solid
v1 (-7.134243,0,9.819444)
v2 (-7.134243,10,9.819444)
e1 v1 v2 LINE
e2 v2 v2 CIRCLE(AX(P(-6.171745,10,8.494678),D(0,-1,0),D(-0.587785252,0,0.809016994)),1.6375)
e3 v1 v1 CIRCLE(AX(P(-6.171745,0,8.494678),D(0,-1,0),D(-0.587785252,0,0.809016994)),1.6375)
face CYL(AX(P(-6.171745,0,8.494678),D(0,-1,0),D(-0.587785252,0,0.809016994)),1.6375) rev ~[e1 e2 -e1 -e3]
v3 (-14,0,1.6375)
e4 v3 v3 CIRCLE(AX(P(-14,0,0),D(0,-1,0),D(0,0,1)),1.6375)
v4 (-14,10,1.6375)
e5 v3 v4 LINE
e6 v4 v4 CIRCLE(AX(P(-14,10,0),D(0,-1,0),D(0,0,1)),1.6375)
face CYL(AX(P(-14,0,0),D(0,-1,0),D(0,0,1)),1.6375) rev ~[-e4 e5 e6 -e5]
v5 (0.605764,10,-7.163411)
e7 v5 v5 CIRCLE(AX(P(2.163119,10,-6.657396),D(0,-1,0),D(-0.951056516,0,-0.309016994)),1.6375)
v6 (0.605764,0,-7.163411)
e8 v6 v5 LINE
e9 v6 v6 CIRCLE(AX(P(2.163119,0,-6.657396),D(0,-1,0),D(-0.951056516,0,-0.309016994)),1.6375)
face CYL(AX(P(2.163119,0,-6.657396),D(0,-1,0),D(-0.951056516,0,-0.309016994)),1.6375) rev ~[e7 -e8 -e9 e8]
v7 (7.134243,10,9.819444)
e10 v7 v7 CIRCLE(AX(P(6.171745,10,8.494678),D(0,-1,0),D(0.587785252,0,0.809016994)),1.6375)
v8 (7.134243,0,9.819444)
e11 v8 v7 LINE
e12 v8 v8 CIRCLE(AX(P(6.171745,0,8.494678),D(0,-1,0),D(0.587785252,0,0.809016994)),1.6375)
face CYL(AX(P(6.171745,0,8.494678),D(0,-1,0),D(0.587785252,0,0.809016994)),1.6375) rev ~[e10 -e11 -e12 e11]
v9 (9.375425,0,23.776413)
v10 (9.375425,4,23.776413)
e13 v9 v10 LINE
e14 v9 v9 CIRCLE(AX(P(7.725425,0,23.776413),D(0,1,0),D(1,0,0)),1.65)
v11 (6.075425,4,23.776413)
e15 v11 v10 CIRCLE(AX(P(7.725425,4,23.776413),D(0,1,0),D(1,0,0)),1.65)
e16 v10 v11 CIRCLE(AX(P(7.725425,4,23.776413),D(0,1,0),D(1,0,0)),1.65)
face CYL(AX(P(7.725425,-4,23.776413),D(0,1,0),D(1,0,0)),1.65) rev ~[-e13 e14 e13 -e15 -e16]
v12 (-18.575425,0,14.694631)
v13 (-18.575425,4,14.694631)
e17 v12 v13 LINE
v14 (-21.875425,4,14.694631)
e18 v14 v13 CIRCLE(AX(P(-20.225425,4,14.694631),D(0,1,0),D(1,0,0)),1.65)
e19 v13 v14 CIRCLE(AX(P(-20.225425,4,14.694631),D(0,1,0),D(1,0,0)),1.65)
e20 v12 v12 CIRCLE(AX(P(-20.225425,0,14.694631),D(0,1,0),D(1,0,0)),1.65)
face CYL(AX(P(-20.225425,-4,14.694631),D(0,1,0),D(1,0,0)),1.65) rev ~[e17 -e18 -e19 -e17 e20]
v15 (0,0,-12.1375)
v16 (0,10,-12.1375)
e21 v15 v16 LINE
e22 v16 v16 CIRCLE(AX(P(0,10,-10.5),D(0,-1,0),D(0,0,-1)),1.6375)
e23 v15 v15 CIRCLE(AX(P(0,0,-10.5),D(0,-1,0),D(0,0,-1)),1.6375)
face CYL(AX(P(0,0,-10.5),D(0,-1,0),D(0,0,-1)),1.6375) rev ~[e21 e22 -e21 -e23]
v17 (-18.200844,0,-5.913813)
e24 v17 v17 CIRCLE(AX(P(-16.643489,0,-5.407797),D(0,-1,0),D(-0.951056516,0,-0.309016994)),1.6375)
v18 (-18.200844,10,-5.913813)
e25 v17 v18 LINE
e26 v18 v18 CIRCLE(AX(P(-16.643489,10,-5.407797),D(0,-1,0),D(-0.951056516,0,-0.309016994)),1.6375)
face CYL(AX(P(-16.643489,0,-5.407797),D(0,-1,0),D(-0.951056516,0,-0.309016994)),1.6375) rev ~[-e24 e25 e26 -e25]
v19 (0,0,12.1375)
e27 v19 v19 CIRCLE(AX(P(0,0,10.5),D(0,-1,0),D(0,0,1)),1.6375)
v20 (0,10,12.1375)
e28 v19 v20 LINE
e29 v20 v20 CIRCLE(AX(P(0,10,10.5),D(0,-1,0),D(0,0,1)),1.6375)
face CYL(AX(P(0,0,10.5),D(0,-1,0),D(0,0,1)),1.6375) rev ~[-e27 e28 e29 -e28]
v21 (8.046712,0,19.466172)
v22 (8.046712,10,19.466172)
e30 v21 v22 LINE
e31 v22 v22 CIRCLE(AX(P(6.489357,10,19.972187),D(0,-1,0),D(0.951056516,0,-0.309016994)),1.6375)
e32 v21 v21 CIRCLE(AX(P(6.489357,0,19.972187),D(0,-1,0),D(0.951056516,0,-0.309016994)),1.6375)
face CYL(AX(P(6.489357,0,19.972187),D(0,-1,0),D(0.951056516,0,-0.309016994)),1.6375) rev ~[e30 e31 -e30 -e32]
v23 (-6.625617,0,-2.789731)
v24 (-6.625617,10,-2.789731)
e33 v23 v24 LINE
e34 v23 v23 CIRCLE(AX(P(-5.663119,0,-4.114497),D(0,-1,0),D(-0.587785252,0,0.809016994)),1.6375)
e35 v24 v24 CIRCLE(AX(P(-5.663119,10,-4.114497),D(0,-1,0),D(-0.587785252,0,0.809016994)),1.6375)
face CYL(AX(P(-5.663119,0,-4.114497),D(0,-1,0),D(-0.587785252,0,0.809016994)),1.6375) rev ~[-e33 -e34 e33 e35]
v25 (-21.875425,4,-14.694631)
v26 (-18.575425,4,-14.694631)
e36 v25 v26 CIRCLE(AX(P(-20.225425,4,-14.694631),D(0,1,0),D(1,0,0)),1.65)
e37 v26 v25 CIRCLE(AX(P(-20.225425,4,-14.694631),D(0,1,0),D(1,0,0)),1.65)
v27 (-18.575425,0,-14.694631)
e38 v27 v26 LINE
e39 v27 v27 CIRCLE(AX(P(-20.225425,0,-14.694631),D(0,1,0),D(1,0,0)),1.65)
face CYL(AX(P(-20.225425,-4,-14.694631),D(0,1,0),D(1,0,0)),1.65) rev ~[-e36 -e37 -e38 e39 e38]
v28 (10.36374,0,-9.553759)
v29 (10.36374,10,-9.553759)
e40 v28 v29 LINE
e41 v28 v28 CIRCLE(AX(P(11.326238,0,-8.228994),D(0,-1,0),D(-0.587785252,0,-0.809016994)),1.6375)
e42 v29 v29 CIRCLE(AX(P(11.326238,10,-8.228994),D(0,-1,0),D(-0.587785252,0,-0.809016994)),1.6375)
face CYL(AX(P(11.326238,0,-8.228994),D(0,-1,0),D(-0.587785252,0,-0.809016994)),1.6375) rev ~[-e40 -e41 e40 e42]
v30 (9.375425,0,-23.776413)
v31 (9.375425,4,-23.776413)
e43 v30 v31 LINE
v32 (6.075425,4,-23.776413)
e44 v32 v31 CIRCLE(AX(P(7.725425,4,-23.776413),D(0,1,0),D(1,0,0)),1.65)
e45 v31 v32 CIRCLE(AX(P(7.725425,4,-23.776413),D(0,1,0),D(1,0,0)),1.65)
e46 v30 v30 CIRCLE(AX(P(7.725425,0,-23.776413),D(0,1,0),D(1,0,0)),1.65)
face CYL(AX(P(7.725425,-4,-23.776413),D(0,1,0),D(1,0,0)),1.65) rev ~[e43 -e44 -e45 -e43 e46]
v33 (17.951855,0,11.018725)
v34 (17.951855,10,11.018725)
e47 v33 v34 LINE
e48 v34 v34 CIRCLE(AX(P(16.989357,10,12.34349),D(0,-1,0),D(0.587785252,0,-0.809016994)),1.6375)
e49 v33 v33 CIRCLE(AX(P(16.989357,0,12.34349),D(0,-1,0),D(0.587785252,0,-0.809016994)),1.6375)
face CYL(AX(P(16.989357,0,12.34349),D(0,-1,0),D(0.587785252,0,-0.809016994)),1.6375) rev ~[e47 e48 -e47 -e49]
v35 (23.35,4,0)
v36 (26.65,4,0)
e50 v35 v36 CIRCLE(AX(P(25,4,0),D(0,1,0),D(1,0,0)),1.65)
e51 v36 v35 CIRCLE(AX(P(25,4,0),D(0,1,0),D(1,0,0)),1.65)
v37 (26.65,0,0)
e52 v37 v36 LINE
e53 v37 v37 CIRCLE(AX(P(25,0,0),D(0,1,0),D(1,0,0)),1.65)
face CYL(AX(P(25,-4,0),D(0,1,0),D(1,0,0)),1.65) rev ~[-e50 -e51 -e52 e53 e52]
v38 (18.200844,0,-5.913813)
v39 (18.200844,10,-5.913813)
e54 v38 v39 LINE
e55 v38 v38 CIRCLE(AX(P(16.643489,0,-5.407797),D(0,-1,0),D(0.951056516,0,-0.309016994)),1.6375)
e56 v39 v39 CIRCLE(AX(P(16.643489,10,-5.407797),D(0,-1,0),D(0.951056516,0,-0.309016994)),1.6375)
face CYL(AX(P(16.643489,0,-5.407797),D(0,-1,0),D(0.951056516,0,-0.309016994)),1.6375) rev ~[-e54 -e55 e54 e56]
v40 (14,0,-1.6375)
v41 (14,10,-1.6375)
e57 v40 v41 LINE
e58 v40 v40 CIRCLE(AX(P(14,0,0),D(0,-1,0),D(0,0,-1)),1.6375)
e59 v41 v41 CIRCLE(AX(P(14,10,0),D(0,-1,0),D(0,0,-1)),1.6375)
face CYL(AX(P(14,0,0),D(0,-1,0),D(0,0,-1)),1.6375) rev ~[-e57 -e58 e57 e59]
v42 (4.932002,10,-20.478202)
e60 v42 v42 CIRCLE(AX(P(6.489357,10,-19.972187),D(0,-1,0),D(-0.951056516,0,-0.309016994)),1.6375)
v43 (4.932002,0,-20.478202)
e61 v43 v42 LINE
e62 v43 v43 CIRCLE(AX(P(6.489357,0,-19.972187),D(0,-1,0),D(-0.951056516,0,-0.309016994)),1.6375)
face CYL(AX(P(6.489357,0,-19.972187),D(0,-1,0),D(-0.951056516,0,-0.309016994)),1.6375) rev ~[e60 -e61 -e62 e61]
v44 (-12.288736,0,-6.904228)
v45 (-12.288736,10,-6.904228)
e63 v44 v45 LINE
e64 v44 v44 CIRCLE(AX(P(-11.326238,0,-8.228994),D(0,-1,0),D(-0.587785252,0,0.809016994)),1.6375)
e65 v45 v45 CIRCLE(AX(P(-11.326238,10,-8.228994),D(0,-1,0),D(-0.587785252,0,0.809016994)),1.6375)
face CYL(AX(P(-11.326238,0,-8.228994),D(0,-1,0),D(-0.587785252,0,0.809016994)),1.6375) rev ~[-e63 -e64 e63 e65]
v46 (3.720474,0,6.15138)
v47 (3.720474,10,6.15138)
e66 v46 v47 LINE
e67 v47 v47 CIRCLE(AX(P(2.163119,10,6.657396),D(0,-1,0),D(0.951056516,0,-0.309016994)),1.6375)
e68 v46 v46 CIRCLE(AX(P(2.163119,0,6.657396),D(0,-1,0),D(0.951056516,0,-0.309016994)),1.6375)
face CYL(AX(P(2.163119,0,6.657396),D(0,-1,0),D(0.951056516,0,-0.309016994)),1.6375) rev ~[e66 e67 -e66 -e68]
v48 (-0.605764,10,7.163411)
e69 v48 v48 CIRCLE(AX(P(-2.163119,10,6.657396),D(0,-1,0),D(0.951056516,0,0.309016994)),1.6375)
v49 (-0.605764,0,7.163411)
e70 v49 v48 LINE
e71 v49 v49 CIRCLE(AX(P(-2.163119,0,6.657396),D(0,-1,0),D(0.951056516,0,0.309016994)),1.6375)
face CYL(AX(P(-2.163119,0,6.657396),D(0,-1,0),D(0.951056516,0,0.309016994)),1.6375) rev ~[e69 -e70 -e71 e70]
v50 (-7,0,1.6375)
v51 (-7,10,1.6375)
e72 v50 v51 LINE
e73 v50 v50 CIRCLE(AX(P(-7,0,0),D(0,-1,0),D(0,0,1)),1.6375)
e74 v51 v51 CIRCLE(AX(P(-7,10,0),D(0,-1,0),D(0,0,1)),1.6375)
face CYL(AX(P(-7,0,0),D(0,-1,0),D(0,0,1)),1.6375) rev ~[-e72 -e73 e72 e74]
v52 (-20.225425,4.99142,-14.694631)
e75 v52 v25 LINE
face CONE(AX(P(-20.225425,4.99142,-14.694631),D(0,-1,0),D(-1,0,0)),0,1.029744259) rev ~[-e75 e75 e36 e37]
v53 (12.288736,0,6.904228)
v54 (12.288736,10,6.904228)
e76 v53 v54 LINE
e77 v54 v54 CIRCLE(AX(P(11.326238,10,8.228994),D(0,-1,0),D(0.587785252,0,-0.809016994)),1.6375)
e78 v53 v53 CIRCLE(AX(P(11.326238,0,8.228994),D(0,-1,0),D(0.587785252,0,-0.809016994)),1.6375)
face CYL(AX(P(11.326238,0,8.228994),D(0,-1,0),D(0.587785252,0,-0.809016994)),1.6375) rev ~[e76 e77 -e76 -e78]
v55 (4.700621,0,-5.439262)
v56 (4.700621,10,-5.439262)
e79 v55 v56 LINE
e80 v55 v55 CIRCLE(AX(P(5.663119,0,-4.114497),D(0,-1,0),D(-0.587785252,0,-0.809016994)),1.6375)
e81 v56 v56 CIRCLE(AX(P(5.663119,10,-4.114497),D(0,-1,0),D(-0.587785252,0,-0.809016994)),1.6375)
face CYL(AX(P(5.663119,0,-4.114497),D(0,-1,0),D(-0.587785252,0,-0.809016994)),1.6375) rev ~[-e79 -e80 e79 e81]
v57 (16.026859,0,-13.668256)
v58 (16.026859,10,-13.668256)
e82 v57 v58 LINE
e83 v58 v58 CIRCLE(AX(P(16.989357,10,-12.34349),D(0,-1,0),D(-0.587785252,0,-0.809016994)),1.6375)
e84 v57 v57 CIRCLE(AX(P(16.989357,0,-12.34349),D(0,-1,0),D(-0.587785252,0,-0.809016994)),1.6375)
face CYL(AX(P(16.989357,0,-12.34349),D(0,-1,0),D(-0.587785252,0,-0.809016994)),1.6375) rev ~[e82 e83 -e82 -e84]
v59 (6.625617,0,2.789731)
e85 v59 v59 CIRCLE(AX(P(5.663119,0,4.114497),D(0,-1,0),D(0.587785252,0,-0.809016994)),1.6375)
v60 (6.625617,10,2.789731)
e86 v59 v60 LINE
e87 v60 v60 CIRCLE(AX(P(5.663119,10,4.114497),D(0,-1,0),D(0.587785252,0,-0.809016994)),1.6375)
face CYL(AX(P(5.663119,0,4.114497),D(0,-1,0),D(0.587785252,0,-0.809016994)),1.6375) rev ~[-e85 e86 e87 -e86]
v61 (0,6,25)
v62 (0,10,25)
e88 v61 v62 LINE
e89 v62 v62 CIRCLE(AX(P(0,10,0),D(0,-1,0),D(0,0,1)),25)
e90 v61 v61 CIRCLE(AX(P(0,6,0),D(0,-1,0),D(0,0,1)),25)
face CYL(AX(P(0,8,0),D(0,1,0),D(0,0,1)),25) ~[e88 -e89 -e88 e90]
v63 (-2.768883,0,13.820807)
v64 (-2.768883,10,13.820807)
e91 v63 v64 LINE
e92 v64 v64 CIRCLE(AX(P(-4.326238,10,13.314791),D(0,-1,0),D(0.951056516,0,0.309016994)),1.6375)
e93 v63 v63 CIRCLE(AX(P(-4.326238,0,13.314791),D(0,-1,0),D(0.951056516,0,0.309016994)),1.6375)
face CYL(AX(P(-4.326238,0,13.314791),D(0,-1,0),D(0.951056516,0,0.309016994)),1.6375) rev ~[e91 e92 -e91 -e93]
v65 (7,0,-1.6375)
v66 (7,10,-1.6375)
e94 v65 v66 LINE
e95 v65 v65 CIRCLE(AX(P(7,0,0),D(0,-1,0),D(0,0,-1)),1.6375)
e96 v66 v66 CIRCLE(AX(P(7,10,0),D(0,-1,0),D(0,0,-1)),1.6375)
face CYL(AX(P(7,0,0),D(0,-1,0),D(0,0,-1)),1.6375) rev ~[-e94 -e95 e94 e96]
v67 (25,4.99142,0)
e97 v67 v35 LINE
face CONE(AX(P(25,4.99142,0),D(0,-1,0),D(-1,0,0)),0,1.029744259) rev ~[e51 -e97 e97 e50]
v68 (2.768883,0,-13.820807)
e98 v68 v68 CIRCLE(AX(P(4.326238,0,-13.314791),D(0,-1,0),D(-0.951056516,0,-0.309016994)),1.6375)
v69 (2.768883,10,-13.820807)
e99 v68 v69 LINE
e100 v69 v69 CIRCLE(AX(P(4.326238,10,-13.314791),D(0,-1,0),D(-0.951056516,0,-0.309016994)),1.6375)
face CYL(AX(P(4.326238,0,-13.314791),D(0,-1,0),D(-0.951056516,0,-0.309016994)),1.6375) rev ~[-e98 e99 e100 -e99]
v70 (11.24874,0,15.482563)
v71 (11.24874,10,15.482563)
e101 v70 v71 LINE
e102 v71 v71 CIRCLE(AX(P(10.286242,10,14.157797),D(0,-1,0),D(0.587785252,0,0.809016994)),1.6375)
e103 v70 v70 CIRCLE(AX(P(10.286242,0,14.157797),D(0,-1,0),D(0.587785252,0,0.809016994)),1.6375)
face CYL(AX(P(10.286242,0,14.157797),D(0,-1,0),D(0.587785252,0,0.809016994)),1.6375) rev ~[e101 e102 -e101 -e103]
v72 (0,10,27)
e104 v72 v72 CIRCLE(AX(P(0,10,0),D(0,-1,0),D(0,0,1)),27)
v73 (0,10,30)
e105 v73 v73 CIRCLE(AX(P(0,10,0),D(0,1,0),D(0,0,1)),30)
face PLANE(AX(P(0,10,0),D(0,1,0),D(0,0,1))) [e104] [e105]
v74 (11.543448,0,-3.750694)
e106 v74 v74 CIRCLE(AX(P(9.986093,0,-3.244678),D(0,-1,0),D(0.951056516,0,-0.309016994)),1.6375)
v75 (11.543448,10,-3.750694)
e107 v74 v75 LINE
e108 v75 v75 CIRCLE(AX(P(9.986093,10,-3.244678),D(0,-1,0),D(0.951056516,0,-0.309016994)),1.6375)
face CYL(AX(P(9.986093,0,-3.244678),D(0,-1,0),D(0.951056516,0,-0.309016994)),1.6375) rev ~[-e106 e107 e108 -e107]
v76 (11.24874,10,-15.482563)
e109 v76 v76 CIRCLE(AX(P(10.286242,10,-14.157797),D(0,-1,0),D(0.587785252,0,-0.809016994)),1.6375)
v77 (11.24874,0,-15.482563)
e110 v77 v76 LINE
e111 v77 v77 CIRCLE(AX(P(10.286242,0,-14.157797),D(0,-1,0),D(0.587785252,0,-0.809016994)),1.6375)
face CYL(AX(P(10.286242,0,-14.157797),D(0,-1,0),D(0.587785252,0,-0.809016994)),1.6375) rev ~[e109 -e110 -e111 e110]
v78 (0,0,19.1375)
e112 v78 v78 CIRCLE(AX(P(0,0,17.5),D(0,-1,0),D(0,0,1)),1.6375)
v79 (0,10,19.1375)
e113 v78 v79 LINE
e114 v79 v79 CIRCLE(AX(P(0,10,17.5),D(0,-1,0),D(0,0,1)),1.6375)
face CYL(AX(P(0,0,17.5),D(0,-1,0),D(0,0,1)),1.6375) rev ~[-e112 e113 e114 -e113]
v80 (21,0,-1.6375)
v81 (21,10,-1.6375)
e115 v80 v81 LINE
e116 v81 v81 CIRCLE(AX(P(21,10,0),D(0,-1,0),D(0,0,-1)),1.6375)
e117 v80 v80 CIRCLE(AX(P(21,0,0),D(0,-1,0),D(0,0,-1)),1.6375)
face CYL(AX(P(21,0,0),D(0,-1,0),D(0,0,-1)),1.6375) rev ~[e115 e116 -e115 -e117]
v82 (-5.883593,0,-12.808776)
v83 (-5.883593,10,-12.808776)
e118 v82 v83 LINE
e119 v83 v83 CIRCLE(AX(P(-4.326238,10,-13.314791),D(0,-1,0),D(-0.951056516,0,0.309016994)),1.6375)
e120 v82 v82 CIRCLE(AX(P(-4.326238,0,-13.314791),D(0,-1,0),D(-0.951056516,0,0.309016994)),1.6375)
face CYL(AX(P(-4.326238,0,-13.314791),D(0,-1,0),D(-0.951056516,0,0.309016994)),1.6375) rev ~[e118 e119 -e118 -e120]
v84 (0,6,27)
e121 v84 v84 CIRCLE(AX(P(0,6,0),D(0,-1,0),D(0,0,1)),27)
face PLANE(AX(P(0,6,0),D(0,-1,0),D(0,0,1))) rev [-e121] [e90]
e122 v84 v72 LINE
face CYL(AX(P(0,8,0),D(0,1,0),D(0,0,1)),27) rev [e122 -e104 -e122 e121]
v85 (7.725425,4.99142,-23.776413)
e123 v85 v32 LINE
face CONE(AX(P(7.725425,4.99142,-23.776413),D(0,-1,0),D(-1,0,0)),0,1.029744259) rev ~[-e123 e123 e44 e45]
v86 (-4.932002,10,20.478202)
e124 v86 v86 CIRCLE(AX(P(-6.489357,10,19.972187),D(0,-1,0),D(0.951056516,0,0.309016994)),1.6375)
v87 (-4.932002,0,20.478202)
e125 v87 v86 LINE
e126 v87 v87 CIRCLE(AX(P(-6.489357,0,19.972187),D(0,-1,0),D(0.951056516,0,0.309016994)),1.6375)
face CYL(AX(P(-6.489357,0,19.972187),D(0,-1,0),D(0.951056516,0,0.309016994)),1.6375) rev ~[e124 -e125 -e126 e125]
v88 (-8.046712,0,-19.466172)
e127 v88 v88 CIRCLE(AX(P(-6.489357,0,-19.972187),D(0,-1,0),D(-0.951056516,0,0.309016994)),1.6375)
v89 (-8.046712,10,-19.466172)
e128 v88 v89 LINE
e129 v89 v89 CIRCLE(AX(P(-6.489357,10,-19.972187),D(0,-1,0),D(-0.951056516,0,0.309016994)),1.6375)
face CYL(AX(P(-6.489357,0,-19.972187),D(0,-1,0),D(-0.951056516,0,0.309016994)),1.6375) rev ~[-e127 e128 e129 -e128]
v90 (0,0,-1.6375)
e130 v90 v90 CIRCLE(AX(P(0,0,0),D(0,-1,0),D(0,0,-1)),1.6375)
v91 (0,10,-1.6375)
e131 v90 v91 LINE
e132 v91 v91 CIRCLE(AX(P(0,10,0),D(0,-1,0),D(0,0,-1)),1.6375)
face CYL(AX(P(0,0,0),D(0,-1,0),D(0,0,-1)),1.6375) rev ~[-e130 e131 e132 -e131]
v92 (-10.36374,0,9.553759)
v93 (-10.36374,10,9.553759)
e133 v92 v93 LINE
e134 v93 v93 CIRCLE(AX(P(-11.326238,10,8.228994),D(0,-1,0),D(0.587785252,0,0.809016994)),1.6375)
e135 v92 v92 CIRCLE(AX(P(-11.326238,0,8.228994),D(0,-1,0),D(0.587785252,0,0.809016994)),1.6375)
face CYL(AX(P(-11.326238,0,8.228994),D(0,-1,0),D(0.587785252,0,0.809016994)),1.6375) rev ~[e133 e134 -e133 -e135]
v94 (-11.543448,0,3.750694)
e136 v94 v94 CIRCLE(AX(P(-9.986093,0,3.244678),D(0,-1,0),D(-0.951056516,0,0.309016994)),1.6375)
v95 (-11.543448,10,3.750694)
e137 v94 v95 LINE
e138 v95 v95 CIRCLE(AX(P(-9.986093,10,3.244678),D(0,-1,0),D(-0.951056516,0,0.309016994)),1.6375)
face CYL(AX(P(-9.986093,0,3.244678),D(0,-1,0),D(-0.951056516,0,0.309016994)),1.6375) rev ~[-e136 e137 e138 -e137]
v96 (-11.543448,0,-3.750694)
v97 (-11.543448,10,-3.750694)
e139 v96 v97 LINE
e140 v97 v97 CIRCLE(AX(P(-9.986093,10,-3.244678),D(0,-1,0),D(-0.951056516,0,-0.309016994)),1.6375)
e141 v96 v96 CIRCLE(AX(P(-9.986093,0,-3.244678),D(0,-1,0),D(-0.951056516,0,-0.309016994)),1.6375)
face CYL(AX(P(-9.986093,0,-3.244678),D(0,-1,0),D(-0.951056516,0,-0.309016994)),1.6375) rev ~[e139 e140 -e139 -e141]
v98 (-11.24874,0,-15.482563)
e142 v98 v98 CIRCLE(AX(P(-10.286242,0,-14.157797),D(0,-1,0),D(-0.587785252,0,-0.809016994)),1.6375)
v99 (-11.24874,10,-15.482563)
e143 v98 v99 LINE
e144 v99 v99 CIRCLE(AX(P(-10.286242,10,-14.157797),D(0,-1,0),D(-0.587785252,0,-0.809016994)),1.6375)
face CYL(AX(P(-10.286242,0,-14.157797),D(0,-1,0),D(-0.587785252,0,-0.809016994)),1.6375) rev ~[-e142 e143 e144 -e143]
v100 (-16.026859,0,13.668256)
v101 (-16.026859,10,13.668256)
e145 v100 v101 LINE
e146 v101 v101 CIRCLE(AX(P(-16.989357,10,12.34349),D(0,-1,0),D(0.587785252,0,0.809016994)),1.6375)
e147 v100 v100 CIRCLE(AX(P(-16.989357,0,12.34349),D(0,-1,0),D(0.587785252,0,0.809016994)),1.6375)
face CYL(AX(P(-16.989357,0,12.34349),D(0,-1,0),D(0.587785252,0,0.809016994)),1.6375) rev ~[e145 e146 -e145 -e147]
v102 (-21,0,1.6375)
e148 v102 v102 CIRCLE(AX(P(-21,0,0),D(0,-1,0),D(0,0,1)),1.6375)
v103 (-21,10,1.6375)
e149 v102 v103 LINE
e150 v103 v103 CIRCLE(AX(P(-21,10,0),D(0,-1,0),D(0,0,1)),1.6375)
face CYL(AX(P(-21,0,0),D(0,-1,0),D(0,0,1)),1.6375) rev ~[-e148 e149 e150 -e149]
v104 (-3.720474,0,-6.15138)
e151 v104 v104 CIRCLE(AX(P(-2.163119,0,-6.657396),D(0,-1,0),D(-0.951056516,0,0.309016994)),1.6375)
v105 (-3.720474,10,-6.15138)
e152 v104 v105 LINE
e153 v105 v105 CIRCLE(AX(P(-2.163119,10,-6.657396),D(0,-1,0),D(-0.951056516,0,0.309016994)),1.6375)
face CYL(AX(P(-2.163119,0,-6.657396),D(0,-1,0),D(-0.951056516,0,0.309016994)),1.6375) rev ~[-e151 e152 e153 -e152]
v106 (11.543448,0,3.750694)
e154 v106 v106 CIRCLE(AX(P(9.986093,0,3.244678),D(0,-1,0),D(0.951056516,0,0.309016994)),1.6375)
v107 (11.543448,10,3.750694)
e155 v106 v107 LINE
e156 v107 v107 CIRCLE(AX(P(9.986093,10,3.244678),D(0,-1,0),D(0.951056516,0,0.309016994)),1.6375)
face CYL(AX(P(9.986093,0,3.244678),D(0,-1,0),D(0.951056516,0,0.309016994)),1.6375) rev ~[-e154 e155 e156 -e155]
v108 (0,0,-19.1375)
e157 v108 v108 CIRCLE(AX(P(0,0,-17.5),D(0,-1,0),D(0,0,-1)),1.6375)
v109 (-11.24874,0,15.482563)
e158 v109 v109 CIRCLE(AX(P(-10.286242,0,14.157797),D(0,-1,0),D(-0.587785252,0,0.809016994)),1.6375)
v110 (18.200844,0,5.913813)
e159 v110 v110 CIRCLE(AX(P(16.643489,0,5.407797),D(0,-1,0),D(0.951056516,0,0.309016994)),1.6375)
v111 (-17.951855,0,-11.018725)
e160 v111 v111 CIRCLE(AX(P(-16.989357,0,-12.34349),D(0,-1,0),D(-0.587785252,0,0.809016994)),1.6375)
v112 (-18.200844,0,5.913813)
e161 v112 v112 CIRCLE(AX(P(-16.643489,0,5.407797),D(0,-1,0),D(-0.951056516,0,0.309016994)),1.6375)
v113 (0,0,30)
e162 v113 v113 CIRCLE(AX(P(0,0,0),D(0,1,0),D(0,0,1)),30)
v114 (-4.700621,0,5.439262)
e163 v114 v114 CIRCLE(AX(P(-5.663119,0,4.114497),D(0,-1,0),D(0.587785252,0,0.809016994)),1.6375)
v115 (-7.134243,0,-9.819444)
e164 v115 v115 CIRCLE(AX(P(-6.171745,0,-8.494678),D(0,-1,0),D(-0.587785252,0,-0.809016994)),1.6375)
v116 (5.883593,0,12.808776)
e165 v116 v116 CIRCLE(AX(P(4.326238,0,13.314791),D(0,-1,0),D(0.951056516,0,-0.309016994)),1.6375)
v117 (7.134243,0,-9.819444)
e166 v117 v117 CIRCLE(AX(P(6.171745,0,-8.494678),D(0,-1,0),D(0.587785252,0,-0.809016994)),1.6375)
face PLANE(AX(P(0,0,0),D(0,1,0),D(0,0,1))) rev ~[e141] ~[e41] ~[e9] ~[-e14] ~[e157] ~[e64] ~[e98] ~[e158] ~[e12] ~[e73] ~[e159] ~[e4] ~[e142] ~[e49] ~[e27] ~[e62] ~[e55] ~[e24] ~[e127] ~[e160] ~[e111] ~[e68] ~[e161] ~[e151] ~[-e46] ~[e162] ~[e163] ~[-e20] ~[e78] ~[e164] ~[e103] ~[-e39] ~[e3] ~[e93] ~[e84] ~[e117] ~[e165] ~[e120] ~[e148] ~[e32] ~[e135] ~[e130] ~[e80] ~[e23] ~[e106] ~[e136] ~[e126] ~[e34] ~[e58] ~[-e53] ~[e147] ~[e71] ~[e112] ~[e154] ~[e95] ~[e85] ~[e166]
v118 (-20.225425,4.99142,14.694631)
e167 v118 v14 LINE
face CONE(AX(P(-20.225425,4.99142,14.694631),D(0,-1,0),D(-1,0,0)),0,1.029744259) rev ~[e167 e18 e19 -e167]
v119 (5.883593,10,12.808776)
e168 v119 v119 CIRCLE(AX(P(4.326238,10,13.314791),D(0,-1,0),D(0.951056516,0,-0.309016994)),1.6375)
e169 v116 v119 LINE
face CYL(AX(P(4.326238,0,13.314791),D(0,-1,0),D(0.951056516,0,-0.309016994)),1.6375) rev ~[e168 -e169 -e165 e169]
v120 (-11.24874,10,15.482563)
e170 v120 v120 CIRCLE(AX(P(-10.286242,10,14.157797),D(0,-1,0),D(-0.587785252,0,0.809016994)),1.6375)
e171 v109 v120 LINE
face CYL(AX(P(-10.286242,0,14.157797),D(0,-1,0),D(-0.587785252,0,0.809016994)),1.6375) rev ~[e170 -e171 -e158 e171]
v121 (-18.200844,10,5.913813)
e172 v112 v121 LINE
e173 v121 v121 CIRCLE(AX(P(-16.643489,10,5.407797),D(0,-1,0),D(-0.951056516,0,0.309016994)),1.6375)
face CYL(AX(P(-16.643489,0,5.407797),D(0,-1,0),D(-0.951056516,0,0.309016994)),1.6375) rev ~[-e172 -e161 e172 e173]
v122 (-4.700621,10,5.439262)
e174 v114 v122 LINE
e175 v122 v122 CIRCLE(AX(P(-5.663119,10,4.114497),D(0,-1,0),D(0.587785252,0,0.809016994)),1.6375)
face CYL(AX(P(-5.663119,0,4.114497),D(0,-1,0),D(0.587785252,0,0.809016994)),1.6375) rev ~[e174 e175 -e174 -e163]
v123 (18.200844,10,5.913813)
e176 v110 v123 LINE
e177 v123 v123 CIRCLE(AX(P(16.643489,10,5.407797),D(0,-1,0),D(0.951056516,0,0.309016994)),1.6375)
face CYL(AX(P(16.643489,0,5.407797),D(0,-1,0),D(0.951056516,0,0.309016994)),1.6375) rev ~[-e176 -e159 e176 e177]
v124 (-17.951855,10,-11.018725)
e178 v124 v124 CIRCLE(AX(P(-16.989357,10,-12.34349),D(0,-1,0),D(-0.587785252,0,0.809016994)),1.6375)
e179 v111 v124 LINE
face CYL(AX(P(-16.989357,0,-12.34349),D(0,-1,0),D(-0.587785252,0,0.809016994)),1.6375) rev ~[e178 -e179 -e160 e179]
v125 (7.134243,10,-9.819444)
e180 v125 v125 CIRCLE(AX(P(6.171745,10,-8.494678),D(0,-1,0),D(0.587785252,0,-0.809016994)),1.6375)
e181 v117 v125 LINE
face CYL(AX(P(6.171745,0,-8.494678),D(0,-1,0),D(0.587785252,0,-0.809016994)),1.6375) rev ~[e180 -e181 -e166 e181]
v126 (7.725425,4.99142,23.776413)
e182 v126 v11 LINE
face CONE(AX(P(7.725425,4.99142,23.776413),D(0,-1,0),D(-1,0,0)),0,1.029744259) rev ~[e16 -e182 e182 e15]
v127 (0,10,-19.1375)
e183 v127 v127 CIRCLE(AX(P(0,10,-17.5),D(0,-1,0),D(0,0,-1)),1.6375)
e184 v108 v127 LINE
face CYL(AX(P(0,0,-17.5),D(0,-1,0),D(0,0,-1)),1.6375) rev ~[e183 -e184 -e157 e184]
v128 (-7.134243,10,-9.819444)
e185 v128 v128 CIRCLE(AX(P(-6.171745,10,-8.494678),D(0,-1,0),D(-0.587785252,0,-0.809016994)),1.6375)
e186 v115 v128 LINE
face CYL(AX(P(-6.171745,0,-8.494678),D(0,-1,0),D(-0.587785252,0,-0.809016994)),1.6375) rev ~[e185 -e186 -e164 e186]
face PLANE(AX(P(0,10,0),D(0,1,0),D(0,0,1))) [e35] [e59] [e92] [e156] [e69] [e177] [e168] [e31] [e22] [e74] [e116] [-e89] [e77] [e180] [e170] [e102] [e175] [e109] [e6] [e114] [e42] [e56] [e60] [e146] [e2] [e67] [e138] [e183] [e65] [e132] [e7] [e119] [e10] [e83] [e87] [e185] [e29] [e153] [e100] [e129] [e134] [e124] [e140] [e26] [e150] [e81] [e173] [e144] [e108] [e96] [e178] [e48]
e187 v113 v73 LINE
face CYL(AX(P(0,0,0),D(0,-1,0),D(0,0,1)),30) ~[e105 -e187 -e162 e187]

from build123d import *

# Parameters (mm, degrees)
SKETCH1_R                    = 30
BOSS_EXTRUDE1_DEPTH          = 10
SKETCH2_R                    = 1.6375
CUT_EXTRUDE1_DEPTH           = 44.588989435
LPATTERN1_COUNT              = 4
LPATTERN1_PITCH              = 7
SKETCH3_R                    = 1.6375
CUT_EXTRUDE2_DEPTH           = 44.588989435
LPATTERN2_COUNT              = 2
LPATTERN2_PITCH              = 7
CIRPATTERN1_COUNT            = 10
CIRPATTERN1_COPY_1_SKETCH_R  = 1.6375
CIRPATTERN1_COPY_1_DEPTH     = 44.588989435
CIRPATTERN1_COPY_2_SKETCH_R  = 1.6375
CIRPATTERN1_COPY_2_DEPTH     = 44.588989435
CIRPATTERN1_COPY_3_SKETCH_R  = 1.6375
CIRPATTERN1_COPY_3_DEPTH     = 44.588989435
CIRPATTERN1_COPY_4_SKETCH_R  = 1.6375
CIRPATTERN1_COPY_4_DEPTH     = 44.588989435
CIRPATTERN1_COPY_5_SKETCH_R  = 1.6375
CIRPATTERN1_COPY_5_DEPTH     = 44.588989435
CIRPATTERN1_COPY_6_SKETCH_R  = 1.6375
CIRPATTERN1_COPY_6_DEPTH     = 44.588989435
CIRPATTERN1_COPY_7_SKETCH_R  = 1.6375
CIRPATTERN1_COPY_7_DEPTH     = 44.588989435
CIRPATTERN1_COPY_8_SKETCH_R  = 1.6375
CIRPATTERN1_COPY_8_DEPTH     = 44.588989435
CIRPATTERN1_COPY_9_SKETCH_R  = 1.6375
CIRPATTERN1_COPY_9_DEPTH     = 44.588989435
CIRPATTERN1_COPY_10_SKETCH_R = 1.6375
CIRPATTERN1_COPY_10_DEPTH    = 44.588989435
CIRPATTERN1_COPY_11_SKETCH_R = 1.6375
CIRPATTERN1_COPY_11_DEPTH    = 44.588989435
CIRPATTERN1_COPY_12_SKETCH_R = 1.6375
CIRPATTERN1_COPY_12_DEPTH    = 44.588989435
CIRPATTERN1_COPY_13_SKETCH_R = 1.6375
CIRPATTERN1_COPY_13_DEPTH    = 44.588989435
CIRPATTERN1_COPY_14_SKETCH_R = 1.6375
CIRPATTERN1_COPY_14_DEPTH    = 44.588989435
CIRPATTERN1_COPY_15_SKETCH_R = 1.6375
CIRPATTERN1_COPY_15_DEPTH    = 44.588989435
CIRPATTERN1_COPY_16_SKETCH_R = 1.6375
CIRPATTERN1_COPY_16_DEPTH    = 44.588989435
CIRPATTERN1_COPY_17_SKETCH_R = 1.6375
CIRPATTERN1_COPY_17_DEPTH    = 44.588989435
CIRPATTERN1_COPY_18_SKETCH_R = 1.6375
CIRPATTERN1_COPY_18_DEPTH    = 44.588989435
CIRPATTERN1_COPY_19_SKETCH_R = 1.6375
CIRPATTERN1_COPY_19_DEPTH    = 44.588989435
CIRPATTERN1_COPY_20_SKETCH_R = 1.6375
CIRPATTERN1_COPY_20_DEPTH    = 44.588989435
CIRPATTERN1_COPY_21_SKETCH_R = 1.6375
CIRPATTERN1_COPY_21_DEPTH    = 44.588989435
CIRPATTERN1_COPY_22_SKETCH_R = 1.6375
CIRPATTERN1_COPY_22_DEPTH    = 44.588989435
CIRPATTERN1_COPY_23_SKETCH_R = 1.6375
CIRPATTERN1_COPY_23_DEPTH    = 44.588989435
CIRPATTERN1_COPY_24_SKETCH_R = 1.6375
CIRPATTERN1_COPY_24_DEPTH    = 44.588989435
CIRPATTERN1_COPY_25_SKETCH_R = 1.6375
CIRPATTERN1_COPY_25_DEPTH    = 44.588989435
CIRPATTERN1_COPY_26_SKETCH_R = 1.6375
CIRPATTERN1_COPY_26_DEPTH    = 44.588989435
CIRPATTERN1_COPY_27_SKETCH_R = 1.6375
CIRPATTERN1_COPY_27_DEPTH    = 44.588989435
CIRPATTERN1_COPY_28_SKETCH_R = 1.6375
CIRPATTERN1_COPY_28_DEPTH    = 44.588989435
CIRPATTERN1_COPY_29_SKETCH_R = 1.6375
CIRPATTERN1_COPY_29_DEPTH    = 44.588989435
CIRPATTERN1_COPY_30_SKETCH_R = 1.6375
CIRPATTERN1_COPY_30_DEPTH    = 44.588989435
CIRPATTERN1_COPY_31_SKETCH_R = 1.6375
CIRPATTERN1_COPY_31_DEPTH    = 44.588989435
CIRPATTERN1_COPY_32_SKETCH_R = 1.6375
CIRPATTERN1_COPY_32_DEPTH    = 44.588989435
CIRPATTERN1_COPY_33_SKETCH_R = 1.6375
CIRPATTERN1_COPY_33_DEPTH    = 44.588989435
CIRPATTERN1_COPY_34_SKETCH_R = 1.6375
CIRPATTERN1_COPY_34_DEPTH    = 44.588989435
CIRPATTERN1_COPY_35_SKETCH_R = 1.6375
CIRPATTERN1_COPY_35_DEPTH    = 44.588989435
CIRPATTERN1_COPY_36_SKETCH_R = 1.6375
CIRPATTERN1_COPY_36_DEPTH    = 44.588989435
CIRPATTERN1_COPY_37_SKETCH_R = 1.6375
CIRPATTERN1_COPY_37_DEPTH    = 44.588989435
CIRPATTERN1_COPY_38_SKETCH_R = 1.6375
CIRPATTERN1_COPY_38_DEPTH    = 44.588989435
CIRPATTERN1_COPY_39_SKETCH_R = 1.6375
CIRPATTERN1_COPY_39_DEPTH    = 44.588989435
CIRPATTERN1_COPY_40_SKETCH_R = 1.6375
CIRPATTERN1_COPY_40_DEPTH    = 44.588989435
CIRPATTERN1_COPY_41_SKETCH_R = 1.6375
CIRPATTERN1_COPY_41_DEPTH    = 44.588989435
CIRPATTERN1_COPY_42_SKETCH_R = 1.6375
CIRPATTERN1_COPY_42_DEPTH    = 44.588989435
CIRPATTERN1_COPY_43_SKETCH_R = 1.6375
CIRPATTERN1_COPY_43_DEPTH    = 44.588989435
CIRPATTERN1_COPY_44_SKETCH_R = 1.6375
CIRPATTERN1_COPY_44_DEPTH    = 44.588989435
CIRPATTERN1_COPY_45_SKETCH_R = 1.6375
CIRPATTERN1_COPY_45_DEPTH    = 44.588989435
M4X0_7_TAPPED_HOLE1_D        = 3.3
M4X0_7_TAPPED_HOLE1_DEPTH    = 4
M4X0_7_TAPPED_HOLE1_TIP      = 0.991420021
SKETCH6_W                    = 2
SKETCH6_H                    = 4


with BuildPart() as part:
    # Sketch1 → Boss-Extrude1 (new body)
    with BuildSketch(Plane(origin=(0, 0, 0), x_dir=(1, 0, 0), z_dir=(0, 1, 0))):
        with Locations(Location((0, 0, 0), (0, 0, 270))):
            Circle(SKETCH1_R)
    extrude(amount=BOSS_EXTRUDE1_DEPTH)

    # Sketch2 → Cut-Extrude1 (cut, through all)
    with BuildSketch(Plane(origin=(0, 0, 0), x_dir=(-1, 0, 0), z_dir=(0, -1, 0))):
        with Locations(Location((0, 0, 0), (0, 0, 90))):
            Circle(SKETCH2_R)
    cut_extrude1 = extrude(amount=-CUT_EXTRUDE1_DEPTH, mode=Mode.SUBTRACT)

    # LPattern1: Cut-Extrude1 ×4
    with Locations(*[(i * LPATTERN1_PITCH, 0, 0) for i in range(1, LPATTERN1_COUNT)]):
        add(cut_extrude1, mode=Mode.SUBTRACT)

    # Sketch3 → Cut-Extrude2 (cut, through all)
    with BuildSketch(Plane.XZ):
        with Locations(Location((0, -10.5, 0), (0, 0, 270))):
            Circle(SKETCH3_R)
    cut_extrude2 = extrude(amount=-CUT_EXTRUDE2_DEPTH, mode=Mode.SUBTRACT)

    # LPattern2: Cut-Extrude2 ×2
    with Locations(*[(0, 0, -i * LPATTERN2_PITCH) for i in range(1, LPATTERN2_COUNT)]):
        add(cut_extrude2, mode=Mode.SUBTRACT)

    # CirPattern1: Cut-Extrude2 ×10 about axis
    cirpattern1_axis = Axis((0, 0, 0), (0, 1, 0))
    for i in range(1, CIRPATTERN1_COUNT):
        add(cut_extrude2.rotate(cirpattern1_axis, i * 360 / CIRPATTERN1_COUNT), mode=Mode.SUBTRACT)

    # CirPattern1 copy 1 sketch → CirPattern1 copy 1 (cut, through all)
    with BuildSketch(Plane(origin=(5.663118961, 0, -4.114496766), x_dir=(-0.8090169943749475, 0, 0.5877852522924731), z_dir=(0, -1, 0))):
        with Locations(Location((0, 0, 0), (0, 0, 90))):
            Circle(CIRPATTERN1_COPY_1_SKETCH_R)
    extrude(amount=-CIRPATTERN1_COPY_1_DEPTH, mode=Mode.SUBTRACT)

    # CirPattern1 copy 2 sketch → CirPattern1 copy 2 (cut, through all)
    with BuildSketch(Plane(origin=(2.163118961, 0, -6.657395614), x_dir=(-0.30901699437494745, 0, 0.9510565162951535), z_dir=(0, -1, 0))):
        with Locations(Location((0, 0, 0), (0, 0, 90))):
            Circle(CIRPATTERN1_COPY_2_SKETCH_R)
    extrude(amount=-CIRPATTERN1_COPY_2_DEPTH, mode=Mode.SUBTRACT)

    # CirPattern1 copy 3 sketch → CirPattern1 copy 3 (cut, through all)
    with BuildSketch(Plane(origin=(-2.163118961, 0, -6.657395614), x_dir=(0.30901699437494734, 0, 0.9510565162951536), z_dir=(0, -1, 0))):
        with Locations(Location((0, 0, 0), (0, 0, 90))):
            Circle(CIRPATTERN1_COPY_3_SKETCH_R)
    extrude(amount=-CIRPATTERN1_COPY_3_DEPTH, mode=Mode.SUBTRACT)

    # CirPattern1 copy 4 sketch → CirPattern1 copy 4 (cut, through all)
    with BuildSketch(Plane(origin=(-5.663118961, 0, -4.114496766), x_dir=(0.8090169943749473, 0, 0.5877852522924732), z_dir=(0, -1, 0))):
        with Locations(Location((0, 0, 0), (0, 0, 90))):
            Circle(CIRPATTERN1_COPY_4_SKETCH_R)
    extrude(amount=-CIRPATTERN1_COPY_4_DEPTH, mode=Mode.SUBTRACT)

    # CirPattern1 copy 5 sketch → CirPattern1 copy 5 (cut, through all)
    with BuildSketch(Plane(origin=(-7, 0, 0), x_dir=(1, 0, 0), z_dir=(0, -1, 0))):
        with Locations(Location((0, 0, 0), (0, 0, 90))):
            Circle(CIRPATTERN1_COPY_5_SKETCH_R)
    extrude(amount=-CIRPATTERN1_COPY_5_DEPTH, mode=Mode.SUBTRACT)

    # CirPattern1 copy 6 sketch → CirPattern1 copy 6 (cut, through all)
    with BuildSketch(Plane(origin=(-5.663118961, 0, 4.114496766), x_dir=(0.8090169943749476, 0, -0.587785252292473), z_dir=(0, -1, 0))):
        with Locations(Location((0, 0, 0), (0, 0, 90))):
            Circle(CIRPATTERN1_COPY_6_SKETCH_R)
    extrude(amount=-CIRPATTERN1_COPY_6_DEPTH, mode=Mode.SUBTRACT)

    # CirPattern1 copy 7 sketch → CirPattern1 copy 7 (cut, through all)
    with BuildSketch(Plane(origin=(-2.163118961, 0, 6.657395614), x_dir=(0.30901699437494756, 0, -0.9510565162951535), z_dir=(0, -1, 0))):
        with Locations(Location((0, 0, 0), (0, 0, 90))):
            Circle(CIRPATTERN1_COPY_7_SKETCH_R)
    extrude(amount=-CIRPATTERN1_COPY_7_DEPTH, mode=Mode.SUBTRACT)

    # CirPattern1 copy 8 sketch → CirPattern1 copy 8 (cut, through all)
    with BuildSketch(Plane(origin=(2.163118961, 0, 6.657395614), x_dir=(-0.30901699437494723, 0, -0.9510565162951536), z_dir=(0, -1, 0))):
        with Locations(Location((0, 0, 0), (0, 0, 90))):
            Circle(CIRPATTERN1_COPY_8_SKETCH_R)
    extrude(amount=-CIRPATTERN1_COPY_8_DEPTH, mode=Mode.SUBTRACT)

    # CirPattern1 copy 9 sketch → CirPattern1 copy 9 (cut, through all)
    with BuildSketch(Plane(origin=(5.663118961, 0, 4.114496766), x_dir=(-0.8090169943749473, 0, -0.5877852522924734), z_dir=(0, -1, 0))):
        with Locations(Location((0, 0, 0), (0, 0, 90))):
            Circle(CIRPATTERN1_COPY_9_SKETCH_R)
    extrude(amount=-CIRPATTERN1_COPY_9_DEPTH, mode=Mode.SUBTRACT)

    # CirPattern1 copy 10 sketch → CirPattern1 copy 10 (cut, through all)
    with BuildSketch(Plane(origin=(11.326237921, 0, -8.228993532), x_dir=(-0.8090169943749475, 0, 0.5877852522924731), z_dir=(0, -1, 0))):
        with Locations(Location((0, 0, 0), (0, 0, 90))):
            Circle(CIRPATTERN1_COPY_10_SKETCH_R)
    extrude(amount=-CIRPATTERN1_COPY_10_DEPTH, mode=Mode.SUBTRACT)

    # CirPattern1 copy 11 sketch → CirPattern1 copy 11 (cut, through all)
    with BuildSketch(Plane(origin=(4.326237921, 0, -13.314791228), x_dir=(-0.30901699437494745, 0, 0.9510565162951535), z_dir=(0, -1, 0))):
        with Locations(Location((0, 0, 0), (0, 0, 90))):
            Circle(CIRPATTERN1_COPY_11_SKETCH_R)
    extrude(amount=-CIRPATTERN1_COPY_11_DEPTH, mode=Mode.SUBTRACT)

    # CirPattern1 copy 12 sketch → CirPattern1 copy 12 (cut, through all)
    with BuildSketch(Plane(origin=(-4.326237921, 0, -13.314791228), x_dir=(0.30901699437494734, 0, 0.9510565162951536), z_dir=(0, -1, 0))):
        with Locations(Location((0, 0, 0), (0, 0, 90))):
            Circle(CIRPATTERN1_COPY_12_SKETCH_R)
    extrude(amount=-CIRPATTERN1_COPY_12_DEPTH, mode=Mode.SUBTRACT)

    # CirPattern1 copy 13 sketch → CirPattern1 copy 13 (cut, through all)
    with BuildSketch(Plane(origin=(-11.326237921, 0, -8.228993532), x_dir=(0.8090169943749473, 0, 0.5877852522924732), z_dir=(0, -1, 0))):
        with Locations(Location((0, 0, 0), (0, 0, 90))):
            Circle(CIRPATTERN1_COPY_13_SKETCH_R)
    extrude(amount=-CIRPATTERN1_COPY_13_DEPTH, mode=Mode.SUBTRACT)

    # CirPattern1 copy 14 sketch → CirPattern1 copy 14 (cut, through all)
    with BuildSketch(Plane(origin=(-14, 0, 0), x_dir=(1, 0, 0), z_dir=(0, -1, 0))):
        with Locations(Location((0, 0, 0), (0, 0, 90))):
            Circle(CIRPATTERN1_COPY_14_SKETCH_R)
    extrude(amount=-CIRPATTERN1_COPY_14_DEPTH, mode=Mode.SUBTRACT)

    # CirPattern1 copy 15 sketch → CirPattern1 copy 15 (cut, through all)
    with BuildSketch(Plane(origin=(-11.326237921, 0, 8.228993532), x_dir=(0.8090169943749476, 0, -0.587785252292473), z_dir=(0, -1, 0))):
        with Locations(Location((0, 0, 0), (0, 0, 90))):
            Circle(CIRPATTERN1_COPY_15_SKETCH_R)
    extrude(amount=-CIRPATTERN1_COPY_15_DEPTH, mode=Mode.SUBTRACT)

    # CirPattern1 copy 16 sketch → CirPattern1 copy 16 (cut, through all)
    with BuildSketch(Plane(origin=(-4.326237921, 0, 13.314791228), x_dir=(0.30901699437494756, 0, -0.9510565162951535), z_dir=(0, -1, 0))):
        with Locations(Location((0, 0, 0), (0, 0, 90))):
            Circle(CIRPATTERN1_COPY_16_SKETCH_R)
    extrude(amount=-CIRPATTERN1_COPY_16_DEPTH, mode=Mode.SUBTRACT)

    # CirPattern1 copy 17 sketch → CirPattern1 copy 17 (cut, through all)
    with BuildSketch(Plane(origin=(4.326237921, 0, 13.314791228), x_dir=(-0.30901699437494723, 0, -0.9510565162951536), z_dir=(0, -1, 0))):
        with Locations(Location((0, 0, 0), (0, 0, 90))):
            Circle(CIRPATTERN1_COPY_17_SKETCH_R)
    extrude(amount=-CIRPATTERN1_COPY_17_DEPTH, mode=Mode.SUBTRACT)

    # CirPattern1 copy 18 sketch → CirPattern1 copy 18 (cut, through all)
    with BuildSketch(Plane(origin=(11.326237921, 0, 8.228993532), x_dir=(-0.8090169943749473, 0, -0.5877852522924734), z_dir=(0, -1, 0))):
        with Locations(Location((0, 0, 0), (0, 0, 90))):
            Circle(CIRPATTERN1_COPY_18_SKETCH_R)
    extrude(amount=-CIRPATTERN1_COPY_18_DEPTH, mode=Mode.SUBTRACT)

    # CirPattern1 copy 19 sketch → CirPattern1 copy 19 (cut, through all)
    with BuildSketch(Plane(origin=(16.989356882, 0, -12.343490298), x_dir=(-0.8090169943749475, 0, 0.5877852522924731), z_dir=(0, -1, 0))):
        with Locations(Location((0, 0, 0), (0, 0, 90))):
            Circle(CIRPATTERN1_COPY_19_SKETCH_R)
    extrude(amount=-CIRPATTERN1_COPY_19_DEPTH, mode=Mode.SUBTRACT)

    # CirPattern1 copy 20 sketch → CirPattern1 copy 20 (cut, through all)
    with BuildSketch(Plane(origin=(6.489356882, 0, -19.972186842), x_dir=(-0.30901699437494745, 0, 0.9510565162951535), z_dir=(0, -1, 0))):
        with Locations(Location((0, 0, 0), (0, 0, 90))):
            Circle(CIRPATTERN1_COPY_20_SKETCH_R)
    extrude(amount=-CIRPATTERN1_COPY_20_DEPTH, mode=Mode.SUBTRACT)

    # CirPattern1 copy 21 sketch → CirPattern1 copy 21 (cut, through all)
    with BuildSketch(Plane(origin=(-6.489356882, 0, -19.972186842), x_dir=(0.30901699437494734, 0, 0.9510565162951536), z_dir=(0, -1, 0))):
        with Locations(Location((0, 0, 0), (0, 0, 90))):
            Circle(CIRPATTERN1_COPY_21_SKETCH_R)
    extrude(amount=-CIRPATTERN1_COPY_21_DEPTH, mode=Mode.SUBTRACT)

    # CirPattern1 copy 22 sketch → CirPattern1 copy 22 (cut, through all)
    with BuildSketch(Plane(origin=(-16.989356882, 0, -12.343490298), x_dir=(0.8090169943749473, 0, 0.5877852522924732), z_dir=(0, -1, 0))):
        with Locations(Location((0, 0, 0), (0, 0, 90))):
            Circle(CIRPATTERN1_COPY_22_SKETCH_R)
    extrude(amount=-CIRPATTERN1_COPY_22_DEPTH, mode=Mode.SUBTRACT)

    # CirPattern1 copy 23 sketch → CirPattern1 copy 23 (cut, through all)
    with BuildSketch(Plane(origin=(-21, 0, 0), x_dir=(1, 0, 0), z_dir=(0, -1, 0))):
        with Locations(Location((0, 0, 0), (0, 0, 90))):
            Circle(CIRPATTERN1_COPY_23_SKETCH_R)
    extrude(amount=-CIRPATTERN1_COPY_23_DEPTH, mode=Mode.SUBTRACT)

    # CirPattern1 copy 24 sketch → CirPattern1 copy 24 (cut, through all)
    with BuildSketch(Plane(origin=(-16.989356882, 0, 12.343490298), x_dir=(0.8090169943749476, 0, -0.587785252292473), z_dir=(0, -1, 0))):
        with Locations(Location((0, 0, 0), (0, 0, 90))):
            Circle(CIRPATTERN1_COPY_24_SKETCH_R)
    extrude(amount=-CIRPATTERN1_COPY_24_DEPTH, mode=Mode.SUBTRACT)

    # CirPattern1 copy 25 sketch → CirPattern1 copy 25 (cut, through all)
    with BuildSketch(Plane(origin=(-6.489356882, 0, 19.972186842), x_dir=(0.30901699437494756, 0, -0.9510565162951535), z_dir=(0, -1, 0))):
        with Locations(Location((0, 0, 0), (0, 0, 90))):
            Circle(CIRPATTERN1_COPY_25_SKETCH_R)
    extrude(amount=-CIRPATTERN1_COPY_25_DEPTH, mode=Mode.SUBTRACT)

    # CirPattern1 copy 26 sketch → CirPattern1 copy 26 (cut, through all)
    with BuildSketch(Plane(origin=(6.489356882, 0, 19.972186842), x_dir=(-0.30901699437494723, 0, -0.9510565162951536), z_dir=(0, -1, 0))):
        with Locations(Location((0, 0, 0), (0, 0, 90))):
            Circle(CIRPATTERN1_COPY_26_SKETCH_R)
    extrude(amount=-CIRPATTERN1_COPY_26_DEPTH, mode=Mode.SUBTRACT)

    # CirPattern1 copy 27 sketch → CirPattern1 copy 27 (cut, through all)
    with BuildSketch(Plane(origin=(16.989356882, 0, 12.343490298), x_dir=(-0.8090169943749473, 0, -0.5877852522924734), z_dir=(0, -1, 0))):
        with Locations(Location((0, 0, 0), (0, 0, 90))):
            Circle(CIRPATTERN1_COPY_27_SKETCH_R)
    extrude(amount=-CIRPATTERN1_COPY_27_DEPTH, mode=Mode.SUBTRACT)

    # CirPattern1 copy 28 sketch → CirPattern1 copy 28 (cut, through all)
    with BuildSketch(Plane(origin=(0, 0, 0), x_dir=(-0.8090169943749475, 0, 0.5877852522924731), z_dir=(0, -1, 0))):
        with Locations(Location((0, 0, 0), (0, 0, 90))):
            Circle(CIRPATTERN1_COPY_28_SKETCH_R)
    extrude(amount=-CIRPATTERN1_COPY_28_DEPTH, mode=Mode.SUBTRACT)

    # CirPattern1 copy 29 sketch → CirPattern1 copy 29 (cut, through all)
    with BuildSketch(Plane(origin=(0, 0, 0), x_dir=(-0.30901699437494745, 0, 0.9510565162951535), z_dir=(0, -1, 0))):
        with Locations(Location((0, 0, 0), (0, 0, 90))):
            Circle(CIRPATTERN1_COPY_29_SKETCH_R)
    extrude(amount=-CIRPATTERN1_COPY_29_DEPTH, mode=Mode.SUBTRACT)

    # CirPattern1 copy 30 sketch → CirPattern1 copy 30 (cut, through all)
    with BuildSketch(Plane(origin=(0, 0, 0), x_dir=(0.30901699437494734, 0, 0.9510565162951536), z_dir=(0, -1, 0))):
        with Locations(Location((0, 0, 0), (0, 0, 90))):
            Circle(CIRPATTERN1_COPY_30_SKETCH_R)
    extrude(amount=-CIRPATTERN1_COPY_30_DEPTH, mode=Mode.SUBTRACT)

    # CirPattern1 copy 31 sketch → CirPattern1 copy 31 (cut, through all)
    with BuildSketch(Plane(origin=(0, 0, 0), x_dir=(0.8090169943749473, 0, 0.5877852522924732), z_dir=(0, -1, 0))):
        with Locations(Location((0, 0, 0), (0, 0, 90))):
            Circle(CIRPATTERN1_COPY_31_SKETCH_R)
    extrude(amount=-CIRPATTERN1_COPY_31_DEPTH, mode=Mode.SUBTRACT)

    # CirPattern1 copy 32 sketch → CirPattern1 copy 32 (cut, through all)
    with BuildSketch(Plane.XZ):
        with Locations(Location((0, 0, 0), (0, 0, 90))):
            Circle(CIRPATTERN1_COPY_32_SKETCH_R)
    extrude(amount=-CIRPATTERN1_COPY_32_DEPTH, mode=Mode.SUBTRACT)

    # CirPattern1 copy 33 sketch → CirPattern1 copy 33 (cut, through all)
    with BuildSketch(Plane(origin=(0, 0, 0), x_dir=(0.8090169943749476, 0, -0.587785252292473), z_dir=(0, -1, 0))):
        with Locations(Location((0, 0, 0), (0, 0, 90))):
            Circle(CIRPATTERN1_COPY_33_SKETCH_R)
    extrude(amount=-CIRPATTERN1_COPY_33_DEPTH, mode=Mode.SUBTRACT)

    # CirPattern1 copy 34 sketch → CirPattern1 copy 34 (cut, through all)
    with BuildSketch(Plane(origin=(0, 0, 0), x_dir=(0.30901699437494756, 0, -0.9510565162951535), z_dir=(0, -1, 0))):
        with Locations(Location((0, 0, 0), (0, 0, 90))):
            Circle(CIRPATTERN1_COPY_34_SKETCH_R)
    extrude(amount=-CIRPATTERN1_COPY_34_DEPTH, mode=Mode.SUBTRACT)

    # CirPattern1 copy 35 sketch → CirPattern1 copy 35 (cut, through all)
    with BuildSketch(Plane(origin=(0, 0, 0), x_dir=(-0.30901699437494723, 0, -0.9510565162951536), z_dir=(0, -1, 0))):
        with Locations(Location((0, 0, 0), (0, 0, 90))):
            Circle(CIRPATTERN1_COPY_35_SKETCH_R)
    extrude(amount=-CIRPATTERN1_COPY_35_DEPTH, mode=Mode.SUBTRACT)

    # CirPattern1 copy 36 sketch → CirPattern1 copy 36 (cut, through all)
    with BuildSketch(Plane(origin=(0, 0, 0), x_dir=(-0.8090169943749473, 0, -0.5877852522924734), z_dir=(0, -1, 0))):
        with Locations(Location((0, 0, 0), (0, 0, 90))):
            Circle(CIRPATTERN1_COPY_36_SKETCH_R)
    extrude(amount=-CIRPATTERN1_COPY_36_DEPTH, mode=Mode.SUBTRACT)

    # CirPattern1 copy 37 sketch → CirPattern1 copy 37 (cut, through all)
    with BuildSketch(Plane(origin=(-4.114496766, 0, -5.663118961), x_dir=(0.8090169943749475, 0, -0.5877852522924731), z_dir=(0, -1, 0))):
        with Locations(Location((0, -10.5, 0), (0, 0, 270))):
            Circle(CIRPATTERN1_COPY_37_SKETCH_R)
    extrude(amount=-CIRPATTERN1_COPY_37_DEPTH, mode=Mode.SUBTRACT)

    # CirPattern1 copy 38 sketch → CirPattern1 copy 38 (cut, through all)
    with BuildSketch(Plane(origin=(-6.657395614, 0, -2.163118961), x_dir=(0.30901699437494745, 0, -0.9510565162951535), z_dir=(0, -1, 0))):
        with Locations(Location((0, -10.5, 0), (0, 0, 270))):
            Circle(CIRPATTERN1_COPY_38_SKETCH_R)
    extrude(amount=-CIRPATTERN1_COPY_38_DEPTH, mode=Mode.SUBTRACT)

    # CirPattern1 copy 39 sketch → CirPattern1 copy 39 (cut, through all)
    with BuildSketch(Plane(origin=(-6.657395614, 0, 2.163118961), x_dir=(-0.30901699437494734, 0, -0.9510565162951536), z_dir=(0, -1, 0))):
        with Locations(Location((0, -10.5, 0), (0, 0, 270))):
            Circle(CIRPATTERN1_COPY_39_SKETCH_R)
    extrude(amount=-CIRPATTERN1_COPY_39_DEPTH, mode=Mode.SUBTRACT)

    # CirPattern1 copy 40 sketch → CirPattern1 copy 40 (cut, through all)
    with BuildSketch(Plane(origin=(-4.114496766, 0, 5.663118961), x_dir=(-0.8090169943749473, 0, -0.5877852522924732), z_dir=(0, -1, 0))):
        with Locations(Location((0, -10.5, 0), (0, 0, 270))):
            Circle(CIRPATTERN1_COPY_40_SKETCH_R)
    extrude(amount=-CIRPATTERN1_COPY_40_DEPTH, mode=Mode.SUBTRACT)

    # CirPattern1 copy 41 sketch → CirPattern1 copy 41 (cut, through all)
    with BuildSketch(Plane(origin=(0, 0, 7), x_dir=(-1, 0, 0), z_dir=(0, -1, 0))):
        with Locations(Location((0, -10.5, 0), (0, 0, 270))):
            Circle(CIRPATTERN1_COPY_41_SKETCH_R)
    extrude(amount=-CIRPATTERN1_COPY_41_DEPTH, mode=Mode.SUBTRACT)

    # CirPattern1 copy 42 sketch → CirPattern1 copy 42 (cut, through all)
    with BuildSketch(Plane(origin=(4.114496766, 0, 5.663118961), x_dir=(-0.8090169943749476, 0, 0.587785252292473), z_dir=(0, -1, 0))):
        with Locations(Location((0, -10.5, 0), (0, 0, 270))):
            Circle(CIRPATTERN1_COPY_42_SKETCH_R)
    extrude(amount=-CIRPATTERN1_COPY_42_DEPTH, mode=Mode.SUBTRACT)

    # CirPattern1 copy 43 sketch → CirPattern1 copy 43 (cut, through all)
    with BuildSketch(Plane(origin=(6.657395614, 0, 2.163118961), x_dir=(-0.30901699437494756, 0, 0.9510565162951535), z_dir=(0, -1, 0))):
        with Locations(Location((0, -10.5, 0), (0, 0, 270))):
            Circle(CIRPATTERN1_COPY_43_SKETCH_R)
    extrude(amount=-CIRPATTERN1_COPY_43_DEPTH, mode=Mode.SUBTRACT)

    # CirPattern1 copy 44 sketch → CirPattern1 copy 44 (cut, through all)
    with BuildSketch(Plane(origin=(6.657395614, 0, -2.163118961), x_dir=(0.30901699437494723, 0, 0.9510565162951536), z_dir=(0, -1, 0))):
        with Locations(Location((0, -10.5, 0), (0, 0, 270))):
            Circle(CIRPATTERN1_COPY_44_SKETCH_R)
    extrude(amount=-CIRPATTERN1_COPY_44_DEPTH, mode=Mode.SUBTRACT)

    # CirPattern1 copy 45 sketch → CirPattern1 copy 45 (cut, through all)
    with BuildSketch(Plane(origin=(4.114496766, 0, -5.663118961), x_dir=(0.8090169943749473, 0, 0.5877852522924734), z_dir=(0, -1, 0))):
        with Locations(Location((0, -10.5, 0), (0, 0, 270))):
            Circle(CIRPATTERN1_COPY_45_SKETCH_R)
    extrude(amount=-CIRPATTERN1_COPY_45_DEPTH, mode=Mode.SUBTRACT)

    # M4x0.7 Tapped Hole1
    with Locations(Plane(origin=(0, 0, 0), x_dir=(-1, 0, 0), z_dir=(0, -1, 0))):
        with Locations((20.225424859, -14.694631307), (-7.725424859, -23.776412907), (-25, 0), (-7.725424859, 23.776412907), (20.225424859, 14.694631307)):
            Hole(M4X0_7_TAPPED_HOLE1_D / 2, depth=M4X0_7_TAPPED_HOLE1_DEPTH)
            with Locations((0, 0, -(M4X0_7_TAPPED_HOLE1_DEPTH + M4X0_7_TAPPED_HOLE1_TIP / 2))):  # 118° drill point
                Cone(0, M4X0_7_TAPPED_HOLE1_D / 2, M4X0_7_TAPPED_HOLE1_TIP, mode=Mode.SUBTRACT)

    # Sketch6 → Cut-Revolve1 (revolve, cut)
    with BuildSketch(Plane.XY, mode=Mode.PRIVATE) as cut_revolve1_sk:
        with Locations((26, 8)):
            Rectangle(SKETCH6_W, SKETCH6_H)
    revolve(cut_revolve1_sk.sketch.rotate(Axis((0, 6.3, 0), (0, -1, 0)), 90), axis=Axis((0, 6.3, 0), (0, -1, 0)), mode=Mode.SUBTRACT)


solid = part.part
